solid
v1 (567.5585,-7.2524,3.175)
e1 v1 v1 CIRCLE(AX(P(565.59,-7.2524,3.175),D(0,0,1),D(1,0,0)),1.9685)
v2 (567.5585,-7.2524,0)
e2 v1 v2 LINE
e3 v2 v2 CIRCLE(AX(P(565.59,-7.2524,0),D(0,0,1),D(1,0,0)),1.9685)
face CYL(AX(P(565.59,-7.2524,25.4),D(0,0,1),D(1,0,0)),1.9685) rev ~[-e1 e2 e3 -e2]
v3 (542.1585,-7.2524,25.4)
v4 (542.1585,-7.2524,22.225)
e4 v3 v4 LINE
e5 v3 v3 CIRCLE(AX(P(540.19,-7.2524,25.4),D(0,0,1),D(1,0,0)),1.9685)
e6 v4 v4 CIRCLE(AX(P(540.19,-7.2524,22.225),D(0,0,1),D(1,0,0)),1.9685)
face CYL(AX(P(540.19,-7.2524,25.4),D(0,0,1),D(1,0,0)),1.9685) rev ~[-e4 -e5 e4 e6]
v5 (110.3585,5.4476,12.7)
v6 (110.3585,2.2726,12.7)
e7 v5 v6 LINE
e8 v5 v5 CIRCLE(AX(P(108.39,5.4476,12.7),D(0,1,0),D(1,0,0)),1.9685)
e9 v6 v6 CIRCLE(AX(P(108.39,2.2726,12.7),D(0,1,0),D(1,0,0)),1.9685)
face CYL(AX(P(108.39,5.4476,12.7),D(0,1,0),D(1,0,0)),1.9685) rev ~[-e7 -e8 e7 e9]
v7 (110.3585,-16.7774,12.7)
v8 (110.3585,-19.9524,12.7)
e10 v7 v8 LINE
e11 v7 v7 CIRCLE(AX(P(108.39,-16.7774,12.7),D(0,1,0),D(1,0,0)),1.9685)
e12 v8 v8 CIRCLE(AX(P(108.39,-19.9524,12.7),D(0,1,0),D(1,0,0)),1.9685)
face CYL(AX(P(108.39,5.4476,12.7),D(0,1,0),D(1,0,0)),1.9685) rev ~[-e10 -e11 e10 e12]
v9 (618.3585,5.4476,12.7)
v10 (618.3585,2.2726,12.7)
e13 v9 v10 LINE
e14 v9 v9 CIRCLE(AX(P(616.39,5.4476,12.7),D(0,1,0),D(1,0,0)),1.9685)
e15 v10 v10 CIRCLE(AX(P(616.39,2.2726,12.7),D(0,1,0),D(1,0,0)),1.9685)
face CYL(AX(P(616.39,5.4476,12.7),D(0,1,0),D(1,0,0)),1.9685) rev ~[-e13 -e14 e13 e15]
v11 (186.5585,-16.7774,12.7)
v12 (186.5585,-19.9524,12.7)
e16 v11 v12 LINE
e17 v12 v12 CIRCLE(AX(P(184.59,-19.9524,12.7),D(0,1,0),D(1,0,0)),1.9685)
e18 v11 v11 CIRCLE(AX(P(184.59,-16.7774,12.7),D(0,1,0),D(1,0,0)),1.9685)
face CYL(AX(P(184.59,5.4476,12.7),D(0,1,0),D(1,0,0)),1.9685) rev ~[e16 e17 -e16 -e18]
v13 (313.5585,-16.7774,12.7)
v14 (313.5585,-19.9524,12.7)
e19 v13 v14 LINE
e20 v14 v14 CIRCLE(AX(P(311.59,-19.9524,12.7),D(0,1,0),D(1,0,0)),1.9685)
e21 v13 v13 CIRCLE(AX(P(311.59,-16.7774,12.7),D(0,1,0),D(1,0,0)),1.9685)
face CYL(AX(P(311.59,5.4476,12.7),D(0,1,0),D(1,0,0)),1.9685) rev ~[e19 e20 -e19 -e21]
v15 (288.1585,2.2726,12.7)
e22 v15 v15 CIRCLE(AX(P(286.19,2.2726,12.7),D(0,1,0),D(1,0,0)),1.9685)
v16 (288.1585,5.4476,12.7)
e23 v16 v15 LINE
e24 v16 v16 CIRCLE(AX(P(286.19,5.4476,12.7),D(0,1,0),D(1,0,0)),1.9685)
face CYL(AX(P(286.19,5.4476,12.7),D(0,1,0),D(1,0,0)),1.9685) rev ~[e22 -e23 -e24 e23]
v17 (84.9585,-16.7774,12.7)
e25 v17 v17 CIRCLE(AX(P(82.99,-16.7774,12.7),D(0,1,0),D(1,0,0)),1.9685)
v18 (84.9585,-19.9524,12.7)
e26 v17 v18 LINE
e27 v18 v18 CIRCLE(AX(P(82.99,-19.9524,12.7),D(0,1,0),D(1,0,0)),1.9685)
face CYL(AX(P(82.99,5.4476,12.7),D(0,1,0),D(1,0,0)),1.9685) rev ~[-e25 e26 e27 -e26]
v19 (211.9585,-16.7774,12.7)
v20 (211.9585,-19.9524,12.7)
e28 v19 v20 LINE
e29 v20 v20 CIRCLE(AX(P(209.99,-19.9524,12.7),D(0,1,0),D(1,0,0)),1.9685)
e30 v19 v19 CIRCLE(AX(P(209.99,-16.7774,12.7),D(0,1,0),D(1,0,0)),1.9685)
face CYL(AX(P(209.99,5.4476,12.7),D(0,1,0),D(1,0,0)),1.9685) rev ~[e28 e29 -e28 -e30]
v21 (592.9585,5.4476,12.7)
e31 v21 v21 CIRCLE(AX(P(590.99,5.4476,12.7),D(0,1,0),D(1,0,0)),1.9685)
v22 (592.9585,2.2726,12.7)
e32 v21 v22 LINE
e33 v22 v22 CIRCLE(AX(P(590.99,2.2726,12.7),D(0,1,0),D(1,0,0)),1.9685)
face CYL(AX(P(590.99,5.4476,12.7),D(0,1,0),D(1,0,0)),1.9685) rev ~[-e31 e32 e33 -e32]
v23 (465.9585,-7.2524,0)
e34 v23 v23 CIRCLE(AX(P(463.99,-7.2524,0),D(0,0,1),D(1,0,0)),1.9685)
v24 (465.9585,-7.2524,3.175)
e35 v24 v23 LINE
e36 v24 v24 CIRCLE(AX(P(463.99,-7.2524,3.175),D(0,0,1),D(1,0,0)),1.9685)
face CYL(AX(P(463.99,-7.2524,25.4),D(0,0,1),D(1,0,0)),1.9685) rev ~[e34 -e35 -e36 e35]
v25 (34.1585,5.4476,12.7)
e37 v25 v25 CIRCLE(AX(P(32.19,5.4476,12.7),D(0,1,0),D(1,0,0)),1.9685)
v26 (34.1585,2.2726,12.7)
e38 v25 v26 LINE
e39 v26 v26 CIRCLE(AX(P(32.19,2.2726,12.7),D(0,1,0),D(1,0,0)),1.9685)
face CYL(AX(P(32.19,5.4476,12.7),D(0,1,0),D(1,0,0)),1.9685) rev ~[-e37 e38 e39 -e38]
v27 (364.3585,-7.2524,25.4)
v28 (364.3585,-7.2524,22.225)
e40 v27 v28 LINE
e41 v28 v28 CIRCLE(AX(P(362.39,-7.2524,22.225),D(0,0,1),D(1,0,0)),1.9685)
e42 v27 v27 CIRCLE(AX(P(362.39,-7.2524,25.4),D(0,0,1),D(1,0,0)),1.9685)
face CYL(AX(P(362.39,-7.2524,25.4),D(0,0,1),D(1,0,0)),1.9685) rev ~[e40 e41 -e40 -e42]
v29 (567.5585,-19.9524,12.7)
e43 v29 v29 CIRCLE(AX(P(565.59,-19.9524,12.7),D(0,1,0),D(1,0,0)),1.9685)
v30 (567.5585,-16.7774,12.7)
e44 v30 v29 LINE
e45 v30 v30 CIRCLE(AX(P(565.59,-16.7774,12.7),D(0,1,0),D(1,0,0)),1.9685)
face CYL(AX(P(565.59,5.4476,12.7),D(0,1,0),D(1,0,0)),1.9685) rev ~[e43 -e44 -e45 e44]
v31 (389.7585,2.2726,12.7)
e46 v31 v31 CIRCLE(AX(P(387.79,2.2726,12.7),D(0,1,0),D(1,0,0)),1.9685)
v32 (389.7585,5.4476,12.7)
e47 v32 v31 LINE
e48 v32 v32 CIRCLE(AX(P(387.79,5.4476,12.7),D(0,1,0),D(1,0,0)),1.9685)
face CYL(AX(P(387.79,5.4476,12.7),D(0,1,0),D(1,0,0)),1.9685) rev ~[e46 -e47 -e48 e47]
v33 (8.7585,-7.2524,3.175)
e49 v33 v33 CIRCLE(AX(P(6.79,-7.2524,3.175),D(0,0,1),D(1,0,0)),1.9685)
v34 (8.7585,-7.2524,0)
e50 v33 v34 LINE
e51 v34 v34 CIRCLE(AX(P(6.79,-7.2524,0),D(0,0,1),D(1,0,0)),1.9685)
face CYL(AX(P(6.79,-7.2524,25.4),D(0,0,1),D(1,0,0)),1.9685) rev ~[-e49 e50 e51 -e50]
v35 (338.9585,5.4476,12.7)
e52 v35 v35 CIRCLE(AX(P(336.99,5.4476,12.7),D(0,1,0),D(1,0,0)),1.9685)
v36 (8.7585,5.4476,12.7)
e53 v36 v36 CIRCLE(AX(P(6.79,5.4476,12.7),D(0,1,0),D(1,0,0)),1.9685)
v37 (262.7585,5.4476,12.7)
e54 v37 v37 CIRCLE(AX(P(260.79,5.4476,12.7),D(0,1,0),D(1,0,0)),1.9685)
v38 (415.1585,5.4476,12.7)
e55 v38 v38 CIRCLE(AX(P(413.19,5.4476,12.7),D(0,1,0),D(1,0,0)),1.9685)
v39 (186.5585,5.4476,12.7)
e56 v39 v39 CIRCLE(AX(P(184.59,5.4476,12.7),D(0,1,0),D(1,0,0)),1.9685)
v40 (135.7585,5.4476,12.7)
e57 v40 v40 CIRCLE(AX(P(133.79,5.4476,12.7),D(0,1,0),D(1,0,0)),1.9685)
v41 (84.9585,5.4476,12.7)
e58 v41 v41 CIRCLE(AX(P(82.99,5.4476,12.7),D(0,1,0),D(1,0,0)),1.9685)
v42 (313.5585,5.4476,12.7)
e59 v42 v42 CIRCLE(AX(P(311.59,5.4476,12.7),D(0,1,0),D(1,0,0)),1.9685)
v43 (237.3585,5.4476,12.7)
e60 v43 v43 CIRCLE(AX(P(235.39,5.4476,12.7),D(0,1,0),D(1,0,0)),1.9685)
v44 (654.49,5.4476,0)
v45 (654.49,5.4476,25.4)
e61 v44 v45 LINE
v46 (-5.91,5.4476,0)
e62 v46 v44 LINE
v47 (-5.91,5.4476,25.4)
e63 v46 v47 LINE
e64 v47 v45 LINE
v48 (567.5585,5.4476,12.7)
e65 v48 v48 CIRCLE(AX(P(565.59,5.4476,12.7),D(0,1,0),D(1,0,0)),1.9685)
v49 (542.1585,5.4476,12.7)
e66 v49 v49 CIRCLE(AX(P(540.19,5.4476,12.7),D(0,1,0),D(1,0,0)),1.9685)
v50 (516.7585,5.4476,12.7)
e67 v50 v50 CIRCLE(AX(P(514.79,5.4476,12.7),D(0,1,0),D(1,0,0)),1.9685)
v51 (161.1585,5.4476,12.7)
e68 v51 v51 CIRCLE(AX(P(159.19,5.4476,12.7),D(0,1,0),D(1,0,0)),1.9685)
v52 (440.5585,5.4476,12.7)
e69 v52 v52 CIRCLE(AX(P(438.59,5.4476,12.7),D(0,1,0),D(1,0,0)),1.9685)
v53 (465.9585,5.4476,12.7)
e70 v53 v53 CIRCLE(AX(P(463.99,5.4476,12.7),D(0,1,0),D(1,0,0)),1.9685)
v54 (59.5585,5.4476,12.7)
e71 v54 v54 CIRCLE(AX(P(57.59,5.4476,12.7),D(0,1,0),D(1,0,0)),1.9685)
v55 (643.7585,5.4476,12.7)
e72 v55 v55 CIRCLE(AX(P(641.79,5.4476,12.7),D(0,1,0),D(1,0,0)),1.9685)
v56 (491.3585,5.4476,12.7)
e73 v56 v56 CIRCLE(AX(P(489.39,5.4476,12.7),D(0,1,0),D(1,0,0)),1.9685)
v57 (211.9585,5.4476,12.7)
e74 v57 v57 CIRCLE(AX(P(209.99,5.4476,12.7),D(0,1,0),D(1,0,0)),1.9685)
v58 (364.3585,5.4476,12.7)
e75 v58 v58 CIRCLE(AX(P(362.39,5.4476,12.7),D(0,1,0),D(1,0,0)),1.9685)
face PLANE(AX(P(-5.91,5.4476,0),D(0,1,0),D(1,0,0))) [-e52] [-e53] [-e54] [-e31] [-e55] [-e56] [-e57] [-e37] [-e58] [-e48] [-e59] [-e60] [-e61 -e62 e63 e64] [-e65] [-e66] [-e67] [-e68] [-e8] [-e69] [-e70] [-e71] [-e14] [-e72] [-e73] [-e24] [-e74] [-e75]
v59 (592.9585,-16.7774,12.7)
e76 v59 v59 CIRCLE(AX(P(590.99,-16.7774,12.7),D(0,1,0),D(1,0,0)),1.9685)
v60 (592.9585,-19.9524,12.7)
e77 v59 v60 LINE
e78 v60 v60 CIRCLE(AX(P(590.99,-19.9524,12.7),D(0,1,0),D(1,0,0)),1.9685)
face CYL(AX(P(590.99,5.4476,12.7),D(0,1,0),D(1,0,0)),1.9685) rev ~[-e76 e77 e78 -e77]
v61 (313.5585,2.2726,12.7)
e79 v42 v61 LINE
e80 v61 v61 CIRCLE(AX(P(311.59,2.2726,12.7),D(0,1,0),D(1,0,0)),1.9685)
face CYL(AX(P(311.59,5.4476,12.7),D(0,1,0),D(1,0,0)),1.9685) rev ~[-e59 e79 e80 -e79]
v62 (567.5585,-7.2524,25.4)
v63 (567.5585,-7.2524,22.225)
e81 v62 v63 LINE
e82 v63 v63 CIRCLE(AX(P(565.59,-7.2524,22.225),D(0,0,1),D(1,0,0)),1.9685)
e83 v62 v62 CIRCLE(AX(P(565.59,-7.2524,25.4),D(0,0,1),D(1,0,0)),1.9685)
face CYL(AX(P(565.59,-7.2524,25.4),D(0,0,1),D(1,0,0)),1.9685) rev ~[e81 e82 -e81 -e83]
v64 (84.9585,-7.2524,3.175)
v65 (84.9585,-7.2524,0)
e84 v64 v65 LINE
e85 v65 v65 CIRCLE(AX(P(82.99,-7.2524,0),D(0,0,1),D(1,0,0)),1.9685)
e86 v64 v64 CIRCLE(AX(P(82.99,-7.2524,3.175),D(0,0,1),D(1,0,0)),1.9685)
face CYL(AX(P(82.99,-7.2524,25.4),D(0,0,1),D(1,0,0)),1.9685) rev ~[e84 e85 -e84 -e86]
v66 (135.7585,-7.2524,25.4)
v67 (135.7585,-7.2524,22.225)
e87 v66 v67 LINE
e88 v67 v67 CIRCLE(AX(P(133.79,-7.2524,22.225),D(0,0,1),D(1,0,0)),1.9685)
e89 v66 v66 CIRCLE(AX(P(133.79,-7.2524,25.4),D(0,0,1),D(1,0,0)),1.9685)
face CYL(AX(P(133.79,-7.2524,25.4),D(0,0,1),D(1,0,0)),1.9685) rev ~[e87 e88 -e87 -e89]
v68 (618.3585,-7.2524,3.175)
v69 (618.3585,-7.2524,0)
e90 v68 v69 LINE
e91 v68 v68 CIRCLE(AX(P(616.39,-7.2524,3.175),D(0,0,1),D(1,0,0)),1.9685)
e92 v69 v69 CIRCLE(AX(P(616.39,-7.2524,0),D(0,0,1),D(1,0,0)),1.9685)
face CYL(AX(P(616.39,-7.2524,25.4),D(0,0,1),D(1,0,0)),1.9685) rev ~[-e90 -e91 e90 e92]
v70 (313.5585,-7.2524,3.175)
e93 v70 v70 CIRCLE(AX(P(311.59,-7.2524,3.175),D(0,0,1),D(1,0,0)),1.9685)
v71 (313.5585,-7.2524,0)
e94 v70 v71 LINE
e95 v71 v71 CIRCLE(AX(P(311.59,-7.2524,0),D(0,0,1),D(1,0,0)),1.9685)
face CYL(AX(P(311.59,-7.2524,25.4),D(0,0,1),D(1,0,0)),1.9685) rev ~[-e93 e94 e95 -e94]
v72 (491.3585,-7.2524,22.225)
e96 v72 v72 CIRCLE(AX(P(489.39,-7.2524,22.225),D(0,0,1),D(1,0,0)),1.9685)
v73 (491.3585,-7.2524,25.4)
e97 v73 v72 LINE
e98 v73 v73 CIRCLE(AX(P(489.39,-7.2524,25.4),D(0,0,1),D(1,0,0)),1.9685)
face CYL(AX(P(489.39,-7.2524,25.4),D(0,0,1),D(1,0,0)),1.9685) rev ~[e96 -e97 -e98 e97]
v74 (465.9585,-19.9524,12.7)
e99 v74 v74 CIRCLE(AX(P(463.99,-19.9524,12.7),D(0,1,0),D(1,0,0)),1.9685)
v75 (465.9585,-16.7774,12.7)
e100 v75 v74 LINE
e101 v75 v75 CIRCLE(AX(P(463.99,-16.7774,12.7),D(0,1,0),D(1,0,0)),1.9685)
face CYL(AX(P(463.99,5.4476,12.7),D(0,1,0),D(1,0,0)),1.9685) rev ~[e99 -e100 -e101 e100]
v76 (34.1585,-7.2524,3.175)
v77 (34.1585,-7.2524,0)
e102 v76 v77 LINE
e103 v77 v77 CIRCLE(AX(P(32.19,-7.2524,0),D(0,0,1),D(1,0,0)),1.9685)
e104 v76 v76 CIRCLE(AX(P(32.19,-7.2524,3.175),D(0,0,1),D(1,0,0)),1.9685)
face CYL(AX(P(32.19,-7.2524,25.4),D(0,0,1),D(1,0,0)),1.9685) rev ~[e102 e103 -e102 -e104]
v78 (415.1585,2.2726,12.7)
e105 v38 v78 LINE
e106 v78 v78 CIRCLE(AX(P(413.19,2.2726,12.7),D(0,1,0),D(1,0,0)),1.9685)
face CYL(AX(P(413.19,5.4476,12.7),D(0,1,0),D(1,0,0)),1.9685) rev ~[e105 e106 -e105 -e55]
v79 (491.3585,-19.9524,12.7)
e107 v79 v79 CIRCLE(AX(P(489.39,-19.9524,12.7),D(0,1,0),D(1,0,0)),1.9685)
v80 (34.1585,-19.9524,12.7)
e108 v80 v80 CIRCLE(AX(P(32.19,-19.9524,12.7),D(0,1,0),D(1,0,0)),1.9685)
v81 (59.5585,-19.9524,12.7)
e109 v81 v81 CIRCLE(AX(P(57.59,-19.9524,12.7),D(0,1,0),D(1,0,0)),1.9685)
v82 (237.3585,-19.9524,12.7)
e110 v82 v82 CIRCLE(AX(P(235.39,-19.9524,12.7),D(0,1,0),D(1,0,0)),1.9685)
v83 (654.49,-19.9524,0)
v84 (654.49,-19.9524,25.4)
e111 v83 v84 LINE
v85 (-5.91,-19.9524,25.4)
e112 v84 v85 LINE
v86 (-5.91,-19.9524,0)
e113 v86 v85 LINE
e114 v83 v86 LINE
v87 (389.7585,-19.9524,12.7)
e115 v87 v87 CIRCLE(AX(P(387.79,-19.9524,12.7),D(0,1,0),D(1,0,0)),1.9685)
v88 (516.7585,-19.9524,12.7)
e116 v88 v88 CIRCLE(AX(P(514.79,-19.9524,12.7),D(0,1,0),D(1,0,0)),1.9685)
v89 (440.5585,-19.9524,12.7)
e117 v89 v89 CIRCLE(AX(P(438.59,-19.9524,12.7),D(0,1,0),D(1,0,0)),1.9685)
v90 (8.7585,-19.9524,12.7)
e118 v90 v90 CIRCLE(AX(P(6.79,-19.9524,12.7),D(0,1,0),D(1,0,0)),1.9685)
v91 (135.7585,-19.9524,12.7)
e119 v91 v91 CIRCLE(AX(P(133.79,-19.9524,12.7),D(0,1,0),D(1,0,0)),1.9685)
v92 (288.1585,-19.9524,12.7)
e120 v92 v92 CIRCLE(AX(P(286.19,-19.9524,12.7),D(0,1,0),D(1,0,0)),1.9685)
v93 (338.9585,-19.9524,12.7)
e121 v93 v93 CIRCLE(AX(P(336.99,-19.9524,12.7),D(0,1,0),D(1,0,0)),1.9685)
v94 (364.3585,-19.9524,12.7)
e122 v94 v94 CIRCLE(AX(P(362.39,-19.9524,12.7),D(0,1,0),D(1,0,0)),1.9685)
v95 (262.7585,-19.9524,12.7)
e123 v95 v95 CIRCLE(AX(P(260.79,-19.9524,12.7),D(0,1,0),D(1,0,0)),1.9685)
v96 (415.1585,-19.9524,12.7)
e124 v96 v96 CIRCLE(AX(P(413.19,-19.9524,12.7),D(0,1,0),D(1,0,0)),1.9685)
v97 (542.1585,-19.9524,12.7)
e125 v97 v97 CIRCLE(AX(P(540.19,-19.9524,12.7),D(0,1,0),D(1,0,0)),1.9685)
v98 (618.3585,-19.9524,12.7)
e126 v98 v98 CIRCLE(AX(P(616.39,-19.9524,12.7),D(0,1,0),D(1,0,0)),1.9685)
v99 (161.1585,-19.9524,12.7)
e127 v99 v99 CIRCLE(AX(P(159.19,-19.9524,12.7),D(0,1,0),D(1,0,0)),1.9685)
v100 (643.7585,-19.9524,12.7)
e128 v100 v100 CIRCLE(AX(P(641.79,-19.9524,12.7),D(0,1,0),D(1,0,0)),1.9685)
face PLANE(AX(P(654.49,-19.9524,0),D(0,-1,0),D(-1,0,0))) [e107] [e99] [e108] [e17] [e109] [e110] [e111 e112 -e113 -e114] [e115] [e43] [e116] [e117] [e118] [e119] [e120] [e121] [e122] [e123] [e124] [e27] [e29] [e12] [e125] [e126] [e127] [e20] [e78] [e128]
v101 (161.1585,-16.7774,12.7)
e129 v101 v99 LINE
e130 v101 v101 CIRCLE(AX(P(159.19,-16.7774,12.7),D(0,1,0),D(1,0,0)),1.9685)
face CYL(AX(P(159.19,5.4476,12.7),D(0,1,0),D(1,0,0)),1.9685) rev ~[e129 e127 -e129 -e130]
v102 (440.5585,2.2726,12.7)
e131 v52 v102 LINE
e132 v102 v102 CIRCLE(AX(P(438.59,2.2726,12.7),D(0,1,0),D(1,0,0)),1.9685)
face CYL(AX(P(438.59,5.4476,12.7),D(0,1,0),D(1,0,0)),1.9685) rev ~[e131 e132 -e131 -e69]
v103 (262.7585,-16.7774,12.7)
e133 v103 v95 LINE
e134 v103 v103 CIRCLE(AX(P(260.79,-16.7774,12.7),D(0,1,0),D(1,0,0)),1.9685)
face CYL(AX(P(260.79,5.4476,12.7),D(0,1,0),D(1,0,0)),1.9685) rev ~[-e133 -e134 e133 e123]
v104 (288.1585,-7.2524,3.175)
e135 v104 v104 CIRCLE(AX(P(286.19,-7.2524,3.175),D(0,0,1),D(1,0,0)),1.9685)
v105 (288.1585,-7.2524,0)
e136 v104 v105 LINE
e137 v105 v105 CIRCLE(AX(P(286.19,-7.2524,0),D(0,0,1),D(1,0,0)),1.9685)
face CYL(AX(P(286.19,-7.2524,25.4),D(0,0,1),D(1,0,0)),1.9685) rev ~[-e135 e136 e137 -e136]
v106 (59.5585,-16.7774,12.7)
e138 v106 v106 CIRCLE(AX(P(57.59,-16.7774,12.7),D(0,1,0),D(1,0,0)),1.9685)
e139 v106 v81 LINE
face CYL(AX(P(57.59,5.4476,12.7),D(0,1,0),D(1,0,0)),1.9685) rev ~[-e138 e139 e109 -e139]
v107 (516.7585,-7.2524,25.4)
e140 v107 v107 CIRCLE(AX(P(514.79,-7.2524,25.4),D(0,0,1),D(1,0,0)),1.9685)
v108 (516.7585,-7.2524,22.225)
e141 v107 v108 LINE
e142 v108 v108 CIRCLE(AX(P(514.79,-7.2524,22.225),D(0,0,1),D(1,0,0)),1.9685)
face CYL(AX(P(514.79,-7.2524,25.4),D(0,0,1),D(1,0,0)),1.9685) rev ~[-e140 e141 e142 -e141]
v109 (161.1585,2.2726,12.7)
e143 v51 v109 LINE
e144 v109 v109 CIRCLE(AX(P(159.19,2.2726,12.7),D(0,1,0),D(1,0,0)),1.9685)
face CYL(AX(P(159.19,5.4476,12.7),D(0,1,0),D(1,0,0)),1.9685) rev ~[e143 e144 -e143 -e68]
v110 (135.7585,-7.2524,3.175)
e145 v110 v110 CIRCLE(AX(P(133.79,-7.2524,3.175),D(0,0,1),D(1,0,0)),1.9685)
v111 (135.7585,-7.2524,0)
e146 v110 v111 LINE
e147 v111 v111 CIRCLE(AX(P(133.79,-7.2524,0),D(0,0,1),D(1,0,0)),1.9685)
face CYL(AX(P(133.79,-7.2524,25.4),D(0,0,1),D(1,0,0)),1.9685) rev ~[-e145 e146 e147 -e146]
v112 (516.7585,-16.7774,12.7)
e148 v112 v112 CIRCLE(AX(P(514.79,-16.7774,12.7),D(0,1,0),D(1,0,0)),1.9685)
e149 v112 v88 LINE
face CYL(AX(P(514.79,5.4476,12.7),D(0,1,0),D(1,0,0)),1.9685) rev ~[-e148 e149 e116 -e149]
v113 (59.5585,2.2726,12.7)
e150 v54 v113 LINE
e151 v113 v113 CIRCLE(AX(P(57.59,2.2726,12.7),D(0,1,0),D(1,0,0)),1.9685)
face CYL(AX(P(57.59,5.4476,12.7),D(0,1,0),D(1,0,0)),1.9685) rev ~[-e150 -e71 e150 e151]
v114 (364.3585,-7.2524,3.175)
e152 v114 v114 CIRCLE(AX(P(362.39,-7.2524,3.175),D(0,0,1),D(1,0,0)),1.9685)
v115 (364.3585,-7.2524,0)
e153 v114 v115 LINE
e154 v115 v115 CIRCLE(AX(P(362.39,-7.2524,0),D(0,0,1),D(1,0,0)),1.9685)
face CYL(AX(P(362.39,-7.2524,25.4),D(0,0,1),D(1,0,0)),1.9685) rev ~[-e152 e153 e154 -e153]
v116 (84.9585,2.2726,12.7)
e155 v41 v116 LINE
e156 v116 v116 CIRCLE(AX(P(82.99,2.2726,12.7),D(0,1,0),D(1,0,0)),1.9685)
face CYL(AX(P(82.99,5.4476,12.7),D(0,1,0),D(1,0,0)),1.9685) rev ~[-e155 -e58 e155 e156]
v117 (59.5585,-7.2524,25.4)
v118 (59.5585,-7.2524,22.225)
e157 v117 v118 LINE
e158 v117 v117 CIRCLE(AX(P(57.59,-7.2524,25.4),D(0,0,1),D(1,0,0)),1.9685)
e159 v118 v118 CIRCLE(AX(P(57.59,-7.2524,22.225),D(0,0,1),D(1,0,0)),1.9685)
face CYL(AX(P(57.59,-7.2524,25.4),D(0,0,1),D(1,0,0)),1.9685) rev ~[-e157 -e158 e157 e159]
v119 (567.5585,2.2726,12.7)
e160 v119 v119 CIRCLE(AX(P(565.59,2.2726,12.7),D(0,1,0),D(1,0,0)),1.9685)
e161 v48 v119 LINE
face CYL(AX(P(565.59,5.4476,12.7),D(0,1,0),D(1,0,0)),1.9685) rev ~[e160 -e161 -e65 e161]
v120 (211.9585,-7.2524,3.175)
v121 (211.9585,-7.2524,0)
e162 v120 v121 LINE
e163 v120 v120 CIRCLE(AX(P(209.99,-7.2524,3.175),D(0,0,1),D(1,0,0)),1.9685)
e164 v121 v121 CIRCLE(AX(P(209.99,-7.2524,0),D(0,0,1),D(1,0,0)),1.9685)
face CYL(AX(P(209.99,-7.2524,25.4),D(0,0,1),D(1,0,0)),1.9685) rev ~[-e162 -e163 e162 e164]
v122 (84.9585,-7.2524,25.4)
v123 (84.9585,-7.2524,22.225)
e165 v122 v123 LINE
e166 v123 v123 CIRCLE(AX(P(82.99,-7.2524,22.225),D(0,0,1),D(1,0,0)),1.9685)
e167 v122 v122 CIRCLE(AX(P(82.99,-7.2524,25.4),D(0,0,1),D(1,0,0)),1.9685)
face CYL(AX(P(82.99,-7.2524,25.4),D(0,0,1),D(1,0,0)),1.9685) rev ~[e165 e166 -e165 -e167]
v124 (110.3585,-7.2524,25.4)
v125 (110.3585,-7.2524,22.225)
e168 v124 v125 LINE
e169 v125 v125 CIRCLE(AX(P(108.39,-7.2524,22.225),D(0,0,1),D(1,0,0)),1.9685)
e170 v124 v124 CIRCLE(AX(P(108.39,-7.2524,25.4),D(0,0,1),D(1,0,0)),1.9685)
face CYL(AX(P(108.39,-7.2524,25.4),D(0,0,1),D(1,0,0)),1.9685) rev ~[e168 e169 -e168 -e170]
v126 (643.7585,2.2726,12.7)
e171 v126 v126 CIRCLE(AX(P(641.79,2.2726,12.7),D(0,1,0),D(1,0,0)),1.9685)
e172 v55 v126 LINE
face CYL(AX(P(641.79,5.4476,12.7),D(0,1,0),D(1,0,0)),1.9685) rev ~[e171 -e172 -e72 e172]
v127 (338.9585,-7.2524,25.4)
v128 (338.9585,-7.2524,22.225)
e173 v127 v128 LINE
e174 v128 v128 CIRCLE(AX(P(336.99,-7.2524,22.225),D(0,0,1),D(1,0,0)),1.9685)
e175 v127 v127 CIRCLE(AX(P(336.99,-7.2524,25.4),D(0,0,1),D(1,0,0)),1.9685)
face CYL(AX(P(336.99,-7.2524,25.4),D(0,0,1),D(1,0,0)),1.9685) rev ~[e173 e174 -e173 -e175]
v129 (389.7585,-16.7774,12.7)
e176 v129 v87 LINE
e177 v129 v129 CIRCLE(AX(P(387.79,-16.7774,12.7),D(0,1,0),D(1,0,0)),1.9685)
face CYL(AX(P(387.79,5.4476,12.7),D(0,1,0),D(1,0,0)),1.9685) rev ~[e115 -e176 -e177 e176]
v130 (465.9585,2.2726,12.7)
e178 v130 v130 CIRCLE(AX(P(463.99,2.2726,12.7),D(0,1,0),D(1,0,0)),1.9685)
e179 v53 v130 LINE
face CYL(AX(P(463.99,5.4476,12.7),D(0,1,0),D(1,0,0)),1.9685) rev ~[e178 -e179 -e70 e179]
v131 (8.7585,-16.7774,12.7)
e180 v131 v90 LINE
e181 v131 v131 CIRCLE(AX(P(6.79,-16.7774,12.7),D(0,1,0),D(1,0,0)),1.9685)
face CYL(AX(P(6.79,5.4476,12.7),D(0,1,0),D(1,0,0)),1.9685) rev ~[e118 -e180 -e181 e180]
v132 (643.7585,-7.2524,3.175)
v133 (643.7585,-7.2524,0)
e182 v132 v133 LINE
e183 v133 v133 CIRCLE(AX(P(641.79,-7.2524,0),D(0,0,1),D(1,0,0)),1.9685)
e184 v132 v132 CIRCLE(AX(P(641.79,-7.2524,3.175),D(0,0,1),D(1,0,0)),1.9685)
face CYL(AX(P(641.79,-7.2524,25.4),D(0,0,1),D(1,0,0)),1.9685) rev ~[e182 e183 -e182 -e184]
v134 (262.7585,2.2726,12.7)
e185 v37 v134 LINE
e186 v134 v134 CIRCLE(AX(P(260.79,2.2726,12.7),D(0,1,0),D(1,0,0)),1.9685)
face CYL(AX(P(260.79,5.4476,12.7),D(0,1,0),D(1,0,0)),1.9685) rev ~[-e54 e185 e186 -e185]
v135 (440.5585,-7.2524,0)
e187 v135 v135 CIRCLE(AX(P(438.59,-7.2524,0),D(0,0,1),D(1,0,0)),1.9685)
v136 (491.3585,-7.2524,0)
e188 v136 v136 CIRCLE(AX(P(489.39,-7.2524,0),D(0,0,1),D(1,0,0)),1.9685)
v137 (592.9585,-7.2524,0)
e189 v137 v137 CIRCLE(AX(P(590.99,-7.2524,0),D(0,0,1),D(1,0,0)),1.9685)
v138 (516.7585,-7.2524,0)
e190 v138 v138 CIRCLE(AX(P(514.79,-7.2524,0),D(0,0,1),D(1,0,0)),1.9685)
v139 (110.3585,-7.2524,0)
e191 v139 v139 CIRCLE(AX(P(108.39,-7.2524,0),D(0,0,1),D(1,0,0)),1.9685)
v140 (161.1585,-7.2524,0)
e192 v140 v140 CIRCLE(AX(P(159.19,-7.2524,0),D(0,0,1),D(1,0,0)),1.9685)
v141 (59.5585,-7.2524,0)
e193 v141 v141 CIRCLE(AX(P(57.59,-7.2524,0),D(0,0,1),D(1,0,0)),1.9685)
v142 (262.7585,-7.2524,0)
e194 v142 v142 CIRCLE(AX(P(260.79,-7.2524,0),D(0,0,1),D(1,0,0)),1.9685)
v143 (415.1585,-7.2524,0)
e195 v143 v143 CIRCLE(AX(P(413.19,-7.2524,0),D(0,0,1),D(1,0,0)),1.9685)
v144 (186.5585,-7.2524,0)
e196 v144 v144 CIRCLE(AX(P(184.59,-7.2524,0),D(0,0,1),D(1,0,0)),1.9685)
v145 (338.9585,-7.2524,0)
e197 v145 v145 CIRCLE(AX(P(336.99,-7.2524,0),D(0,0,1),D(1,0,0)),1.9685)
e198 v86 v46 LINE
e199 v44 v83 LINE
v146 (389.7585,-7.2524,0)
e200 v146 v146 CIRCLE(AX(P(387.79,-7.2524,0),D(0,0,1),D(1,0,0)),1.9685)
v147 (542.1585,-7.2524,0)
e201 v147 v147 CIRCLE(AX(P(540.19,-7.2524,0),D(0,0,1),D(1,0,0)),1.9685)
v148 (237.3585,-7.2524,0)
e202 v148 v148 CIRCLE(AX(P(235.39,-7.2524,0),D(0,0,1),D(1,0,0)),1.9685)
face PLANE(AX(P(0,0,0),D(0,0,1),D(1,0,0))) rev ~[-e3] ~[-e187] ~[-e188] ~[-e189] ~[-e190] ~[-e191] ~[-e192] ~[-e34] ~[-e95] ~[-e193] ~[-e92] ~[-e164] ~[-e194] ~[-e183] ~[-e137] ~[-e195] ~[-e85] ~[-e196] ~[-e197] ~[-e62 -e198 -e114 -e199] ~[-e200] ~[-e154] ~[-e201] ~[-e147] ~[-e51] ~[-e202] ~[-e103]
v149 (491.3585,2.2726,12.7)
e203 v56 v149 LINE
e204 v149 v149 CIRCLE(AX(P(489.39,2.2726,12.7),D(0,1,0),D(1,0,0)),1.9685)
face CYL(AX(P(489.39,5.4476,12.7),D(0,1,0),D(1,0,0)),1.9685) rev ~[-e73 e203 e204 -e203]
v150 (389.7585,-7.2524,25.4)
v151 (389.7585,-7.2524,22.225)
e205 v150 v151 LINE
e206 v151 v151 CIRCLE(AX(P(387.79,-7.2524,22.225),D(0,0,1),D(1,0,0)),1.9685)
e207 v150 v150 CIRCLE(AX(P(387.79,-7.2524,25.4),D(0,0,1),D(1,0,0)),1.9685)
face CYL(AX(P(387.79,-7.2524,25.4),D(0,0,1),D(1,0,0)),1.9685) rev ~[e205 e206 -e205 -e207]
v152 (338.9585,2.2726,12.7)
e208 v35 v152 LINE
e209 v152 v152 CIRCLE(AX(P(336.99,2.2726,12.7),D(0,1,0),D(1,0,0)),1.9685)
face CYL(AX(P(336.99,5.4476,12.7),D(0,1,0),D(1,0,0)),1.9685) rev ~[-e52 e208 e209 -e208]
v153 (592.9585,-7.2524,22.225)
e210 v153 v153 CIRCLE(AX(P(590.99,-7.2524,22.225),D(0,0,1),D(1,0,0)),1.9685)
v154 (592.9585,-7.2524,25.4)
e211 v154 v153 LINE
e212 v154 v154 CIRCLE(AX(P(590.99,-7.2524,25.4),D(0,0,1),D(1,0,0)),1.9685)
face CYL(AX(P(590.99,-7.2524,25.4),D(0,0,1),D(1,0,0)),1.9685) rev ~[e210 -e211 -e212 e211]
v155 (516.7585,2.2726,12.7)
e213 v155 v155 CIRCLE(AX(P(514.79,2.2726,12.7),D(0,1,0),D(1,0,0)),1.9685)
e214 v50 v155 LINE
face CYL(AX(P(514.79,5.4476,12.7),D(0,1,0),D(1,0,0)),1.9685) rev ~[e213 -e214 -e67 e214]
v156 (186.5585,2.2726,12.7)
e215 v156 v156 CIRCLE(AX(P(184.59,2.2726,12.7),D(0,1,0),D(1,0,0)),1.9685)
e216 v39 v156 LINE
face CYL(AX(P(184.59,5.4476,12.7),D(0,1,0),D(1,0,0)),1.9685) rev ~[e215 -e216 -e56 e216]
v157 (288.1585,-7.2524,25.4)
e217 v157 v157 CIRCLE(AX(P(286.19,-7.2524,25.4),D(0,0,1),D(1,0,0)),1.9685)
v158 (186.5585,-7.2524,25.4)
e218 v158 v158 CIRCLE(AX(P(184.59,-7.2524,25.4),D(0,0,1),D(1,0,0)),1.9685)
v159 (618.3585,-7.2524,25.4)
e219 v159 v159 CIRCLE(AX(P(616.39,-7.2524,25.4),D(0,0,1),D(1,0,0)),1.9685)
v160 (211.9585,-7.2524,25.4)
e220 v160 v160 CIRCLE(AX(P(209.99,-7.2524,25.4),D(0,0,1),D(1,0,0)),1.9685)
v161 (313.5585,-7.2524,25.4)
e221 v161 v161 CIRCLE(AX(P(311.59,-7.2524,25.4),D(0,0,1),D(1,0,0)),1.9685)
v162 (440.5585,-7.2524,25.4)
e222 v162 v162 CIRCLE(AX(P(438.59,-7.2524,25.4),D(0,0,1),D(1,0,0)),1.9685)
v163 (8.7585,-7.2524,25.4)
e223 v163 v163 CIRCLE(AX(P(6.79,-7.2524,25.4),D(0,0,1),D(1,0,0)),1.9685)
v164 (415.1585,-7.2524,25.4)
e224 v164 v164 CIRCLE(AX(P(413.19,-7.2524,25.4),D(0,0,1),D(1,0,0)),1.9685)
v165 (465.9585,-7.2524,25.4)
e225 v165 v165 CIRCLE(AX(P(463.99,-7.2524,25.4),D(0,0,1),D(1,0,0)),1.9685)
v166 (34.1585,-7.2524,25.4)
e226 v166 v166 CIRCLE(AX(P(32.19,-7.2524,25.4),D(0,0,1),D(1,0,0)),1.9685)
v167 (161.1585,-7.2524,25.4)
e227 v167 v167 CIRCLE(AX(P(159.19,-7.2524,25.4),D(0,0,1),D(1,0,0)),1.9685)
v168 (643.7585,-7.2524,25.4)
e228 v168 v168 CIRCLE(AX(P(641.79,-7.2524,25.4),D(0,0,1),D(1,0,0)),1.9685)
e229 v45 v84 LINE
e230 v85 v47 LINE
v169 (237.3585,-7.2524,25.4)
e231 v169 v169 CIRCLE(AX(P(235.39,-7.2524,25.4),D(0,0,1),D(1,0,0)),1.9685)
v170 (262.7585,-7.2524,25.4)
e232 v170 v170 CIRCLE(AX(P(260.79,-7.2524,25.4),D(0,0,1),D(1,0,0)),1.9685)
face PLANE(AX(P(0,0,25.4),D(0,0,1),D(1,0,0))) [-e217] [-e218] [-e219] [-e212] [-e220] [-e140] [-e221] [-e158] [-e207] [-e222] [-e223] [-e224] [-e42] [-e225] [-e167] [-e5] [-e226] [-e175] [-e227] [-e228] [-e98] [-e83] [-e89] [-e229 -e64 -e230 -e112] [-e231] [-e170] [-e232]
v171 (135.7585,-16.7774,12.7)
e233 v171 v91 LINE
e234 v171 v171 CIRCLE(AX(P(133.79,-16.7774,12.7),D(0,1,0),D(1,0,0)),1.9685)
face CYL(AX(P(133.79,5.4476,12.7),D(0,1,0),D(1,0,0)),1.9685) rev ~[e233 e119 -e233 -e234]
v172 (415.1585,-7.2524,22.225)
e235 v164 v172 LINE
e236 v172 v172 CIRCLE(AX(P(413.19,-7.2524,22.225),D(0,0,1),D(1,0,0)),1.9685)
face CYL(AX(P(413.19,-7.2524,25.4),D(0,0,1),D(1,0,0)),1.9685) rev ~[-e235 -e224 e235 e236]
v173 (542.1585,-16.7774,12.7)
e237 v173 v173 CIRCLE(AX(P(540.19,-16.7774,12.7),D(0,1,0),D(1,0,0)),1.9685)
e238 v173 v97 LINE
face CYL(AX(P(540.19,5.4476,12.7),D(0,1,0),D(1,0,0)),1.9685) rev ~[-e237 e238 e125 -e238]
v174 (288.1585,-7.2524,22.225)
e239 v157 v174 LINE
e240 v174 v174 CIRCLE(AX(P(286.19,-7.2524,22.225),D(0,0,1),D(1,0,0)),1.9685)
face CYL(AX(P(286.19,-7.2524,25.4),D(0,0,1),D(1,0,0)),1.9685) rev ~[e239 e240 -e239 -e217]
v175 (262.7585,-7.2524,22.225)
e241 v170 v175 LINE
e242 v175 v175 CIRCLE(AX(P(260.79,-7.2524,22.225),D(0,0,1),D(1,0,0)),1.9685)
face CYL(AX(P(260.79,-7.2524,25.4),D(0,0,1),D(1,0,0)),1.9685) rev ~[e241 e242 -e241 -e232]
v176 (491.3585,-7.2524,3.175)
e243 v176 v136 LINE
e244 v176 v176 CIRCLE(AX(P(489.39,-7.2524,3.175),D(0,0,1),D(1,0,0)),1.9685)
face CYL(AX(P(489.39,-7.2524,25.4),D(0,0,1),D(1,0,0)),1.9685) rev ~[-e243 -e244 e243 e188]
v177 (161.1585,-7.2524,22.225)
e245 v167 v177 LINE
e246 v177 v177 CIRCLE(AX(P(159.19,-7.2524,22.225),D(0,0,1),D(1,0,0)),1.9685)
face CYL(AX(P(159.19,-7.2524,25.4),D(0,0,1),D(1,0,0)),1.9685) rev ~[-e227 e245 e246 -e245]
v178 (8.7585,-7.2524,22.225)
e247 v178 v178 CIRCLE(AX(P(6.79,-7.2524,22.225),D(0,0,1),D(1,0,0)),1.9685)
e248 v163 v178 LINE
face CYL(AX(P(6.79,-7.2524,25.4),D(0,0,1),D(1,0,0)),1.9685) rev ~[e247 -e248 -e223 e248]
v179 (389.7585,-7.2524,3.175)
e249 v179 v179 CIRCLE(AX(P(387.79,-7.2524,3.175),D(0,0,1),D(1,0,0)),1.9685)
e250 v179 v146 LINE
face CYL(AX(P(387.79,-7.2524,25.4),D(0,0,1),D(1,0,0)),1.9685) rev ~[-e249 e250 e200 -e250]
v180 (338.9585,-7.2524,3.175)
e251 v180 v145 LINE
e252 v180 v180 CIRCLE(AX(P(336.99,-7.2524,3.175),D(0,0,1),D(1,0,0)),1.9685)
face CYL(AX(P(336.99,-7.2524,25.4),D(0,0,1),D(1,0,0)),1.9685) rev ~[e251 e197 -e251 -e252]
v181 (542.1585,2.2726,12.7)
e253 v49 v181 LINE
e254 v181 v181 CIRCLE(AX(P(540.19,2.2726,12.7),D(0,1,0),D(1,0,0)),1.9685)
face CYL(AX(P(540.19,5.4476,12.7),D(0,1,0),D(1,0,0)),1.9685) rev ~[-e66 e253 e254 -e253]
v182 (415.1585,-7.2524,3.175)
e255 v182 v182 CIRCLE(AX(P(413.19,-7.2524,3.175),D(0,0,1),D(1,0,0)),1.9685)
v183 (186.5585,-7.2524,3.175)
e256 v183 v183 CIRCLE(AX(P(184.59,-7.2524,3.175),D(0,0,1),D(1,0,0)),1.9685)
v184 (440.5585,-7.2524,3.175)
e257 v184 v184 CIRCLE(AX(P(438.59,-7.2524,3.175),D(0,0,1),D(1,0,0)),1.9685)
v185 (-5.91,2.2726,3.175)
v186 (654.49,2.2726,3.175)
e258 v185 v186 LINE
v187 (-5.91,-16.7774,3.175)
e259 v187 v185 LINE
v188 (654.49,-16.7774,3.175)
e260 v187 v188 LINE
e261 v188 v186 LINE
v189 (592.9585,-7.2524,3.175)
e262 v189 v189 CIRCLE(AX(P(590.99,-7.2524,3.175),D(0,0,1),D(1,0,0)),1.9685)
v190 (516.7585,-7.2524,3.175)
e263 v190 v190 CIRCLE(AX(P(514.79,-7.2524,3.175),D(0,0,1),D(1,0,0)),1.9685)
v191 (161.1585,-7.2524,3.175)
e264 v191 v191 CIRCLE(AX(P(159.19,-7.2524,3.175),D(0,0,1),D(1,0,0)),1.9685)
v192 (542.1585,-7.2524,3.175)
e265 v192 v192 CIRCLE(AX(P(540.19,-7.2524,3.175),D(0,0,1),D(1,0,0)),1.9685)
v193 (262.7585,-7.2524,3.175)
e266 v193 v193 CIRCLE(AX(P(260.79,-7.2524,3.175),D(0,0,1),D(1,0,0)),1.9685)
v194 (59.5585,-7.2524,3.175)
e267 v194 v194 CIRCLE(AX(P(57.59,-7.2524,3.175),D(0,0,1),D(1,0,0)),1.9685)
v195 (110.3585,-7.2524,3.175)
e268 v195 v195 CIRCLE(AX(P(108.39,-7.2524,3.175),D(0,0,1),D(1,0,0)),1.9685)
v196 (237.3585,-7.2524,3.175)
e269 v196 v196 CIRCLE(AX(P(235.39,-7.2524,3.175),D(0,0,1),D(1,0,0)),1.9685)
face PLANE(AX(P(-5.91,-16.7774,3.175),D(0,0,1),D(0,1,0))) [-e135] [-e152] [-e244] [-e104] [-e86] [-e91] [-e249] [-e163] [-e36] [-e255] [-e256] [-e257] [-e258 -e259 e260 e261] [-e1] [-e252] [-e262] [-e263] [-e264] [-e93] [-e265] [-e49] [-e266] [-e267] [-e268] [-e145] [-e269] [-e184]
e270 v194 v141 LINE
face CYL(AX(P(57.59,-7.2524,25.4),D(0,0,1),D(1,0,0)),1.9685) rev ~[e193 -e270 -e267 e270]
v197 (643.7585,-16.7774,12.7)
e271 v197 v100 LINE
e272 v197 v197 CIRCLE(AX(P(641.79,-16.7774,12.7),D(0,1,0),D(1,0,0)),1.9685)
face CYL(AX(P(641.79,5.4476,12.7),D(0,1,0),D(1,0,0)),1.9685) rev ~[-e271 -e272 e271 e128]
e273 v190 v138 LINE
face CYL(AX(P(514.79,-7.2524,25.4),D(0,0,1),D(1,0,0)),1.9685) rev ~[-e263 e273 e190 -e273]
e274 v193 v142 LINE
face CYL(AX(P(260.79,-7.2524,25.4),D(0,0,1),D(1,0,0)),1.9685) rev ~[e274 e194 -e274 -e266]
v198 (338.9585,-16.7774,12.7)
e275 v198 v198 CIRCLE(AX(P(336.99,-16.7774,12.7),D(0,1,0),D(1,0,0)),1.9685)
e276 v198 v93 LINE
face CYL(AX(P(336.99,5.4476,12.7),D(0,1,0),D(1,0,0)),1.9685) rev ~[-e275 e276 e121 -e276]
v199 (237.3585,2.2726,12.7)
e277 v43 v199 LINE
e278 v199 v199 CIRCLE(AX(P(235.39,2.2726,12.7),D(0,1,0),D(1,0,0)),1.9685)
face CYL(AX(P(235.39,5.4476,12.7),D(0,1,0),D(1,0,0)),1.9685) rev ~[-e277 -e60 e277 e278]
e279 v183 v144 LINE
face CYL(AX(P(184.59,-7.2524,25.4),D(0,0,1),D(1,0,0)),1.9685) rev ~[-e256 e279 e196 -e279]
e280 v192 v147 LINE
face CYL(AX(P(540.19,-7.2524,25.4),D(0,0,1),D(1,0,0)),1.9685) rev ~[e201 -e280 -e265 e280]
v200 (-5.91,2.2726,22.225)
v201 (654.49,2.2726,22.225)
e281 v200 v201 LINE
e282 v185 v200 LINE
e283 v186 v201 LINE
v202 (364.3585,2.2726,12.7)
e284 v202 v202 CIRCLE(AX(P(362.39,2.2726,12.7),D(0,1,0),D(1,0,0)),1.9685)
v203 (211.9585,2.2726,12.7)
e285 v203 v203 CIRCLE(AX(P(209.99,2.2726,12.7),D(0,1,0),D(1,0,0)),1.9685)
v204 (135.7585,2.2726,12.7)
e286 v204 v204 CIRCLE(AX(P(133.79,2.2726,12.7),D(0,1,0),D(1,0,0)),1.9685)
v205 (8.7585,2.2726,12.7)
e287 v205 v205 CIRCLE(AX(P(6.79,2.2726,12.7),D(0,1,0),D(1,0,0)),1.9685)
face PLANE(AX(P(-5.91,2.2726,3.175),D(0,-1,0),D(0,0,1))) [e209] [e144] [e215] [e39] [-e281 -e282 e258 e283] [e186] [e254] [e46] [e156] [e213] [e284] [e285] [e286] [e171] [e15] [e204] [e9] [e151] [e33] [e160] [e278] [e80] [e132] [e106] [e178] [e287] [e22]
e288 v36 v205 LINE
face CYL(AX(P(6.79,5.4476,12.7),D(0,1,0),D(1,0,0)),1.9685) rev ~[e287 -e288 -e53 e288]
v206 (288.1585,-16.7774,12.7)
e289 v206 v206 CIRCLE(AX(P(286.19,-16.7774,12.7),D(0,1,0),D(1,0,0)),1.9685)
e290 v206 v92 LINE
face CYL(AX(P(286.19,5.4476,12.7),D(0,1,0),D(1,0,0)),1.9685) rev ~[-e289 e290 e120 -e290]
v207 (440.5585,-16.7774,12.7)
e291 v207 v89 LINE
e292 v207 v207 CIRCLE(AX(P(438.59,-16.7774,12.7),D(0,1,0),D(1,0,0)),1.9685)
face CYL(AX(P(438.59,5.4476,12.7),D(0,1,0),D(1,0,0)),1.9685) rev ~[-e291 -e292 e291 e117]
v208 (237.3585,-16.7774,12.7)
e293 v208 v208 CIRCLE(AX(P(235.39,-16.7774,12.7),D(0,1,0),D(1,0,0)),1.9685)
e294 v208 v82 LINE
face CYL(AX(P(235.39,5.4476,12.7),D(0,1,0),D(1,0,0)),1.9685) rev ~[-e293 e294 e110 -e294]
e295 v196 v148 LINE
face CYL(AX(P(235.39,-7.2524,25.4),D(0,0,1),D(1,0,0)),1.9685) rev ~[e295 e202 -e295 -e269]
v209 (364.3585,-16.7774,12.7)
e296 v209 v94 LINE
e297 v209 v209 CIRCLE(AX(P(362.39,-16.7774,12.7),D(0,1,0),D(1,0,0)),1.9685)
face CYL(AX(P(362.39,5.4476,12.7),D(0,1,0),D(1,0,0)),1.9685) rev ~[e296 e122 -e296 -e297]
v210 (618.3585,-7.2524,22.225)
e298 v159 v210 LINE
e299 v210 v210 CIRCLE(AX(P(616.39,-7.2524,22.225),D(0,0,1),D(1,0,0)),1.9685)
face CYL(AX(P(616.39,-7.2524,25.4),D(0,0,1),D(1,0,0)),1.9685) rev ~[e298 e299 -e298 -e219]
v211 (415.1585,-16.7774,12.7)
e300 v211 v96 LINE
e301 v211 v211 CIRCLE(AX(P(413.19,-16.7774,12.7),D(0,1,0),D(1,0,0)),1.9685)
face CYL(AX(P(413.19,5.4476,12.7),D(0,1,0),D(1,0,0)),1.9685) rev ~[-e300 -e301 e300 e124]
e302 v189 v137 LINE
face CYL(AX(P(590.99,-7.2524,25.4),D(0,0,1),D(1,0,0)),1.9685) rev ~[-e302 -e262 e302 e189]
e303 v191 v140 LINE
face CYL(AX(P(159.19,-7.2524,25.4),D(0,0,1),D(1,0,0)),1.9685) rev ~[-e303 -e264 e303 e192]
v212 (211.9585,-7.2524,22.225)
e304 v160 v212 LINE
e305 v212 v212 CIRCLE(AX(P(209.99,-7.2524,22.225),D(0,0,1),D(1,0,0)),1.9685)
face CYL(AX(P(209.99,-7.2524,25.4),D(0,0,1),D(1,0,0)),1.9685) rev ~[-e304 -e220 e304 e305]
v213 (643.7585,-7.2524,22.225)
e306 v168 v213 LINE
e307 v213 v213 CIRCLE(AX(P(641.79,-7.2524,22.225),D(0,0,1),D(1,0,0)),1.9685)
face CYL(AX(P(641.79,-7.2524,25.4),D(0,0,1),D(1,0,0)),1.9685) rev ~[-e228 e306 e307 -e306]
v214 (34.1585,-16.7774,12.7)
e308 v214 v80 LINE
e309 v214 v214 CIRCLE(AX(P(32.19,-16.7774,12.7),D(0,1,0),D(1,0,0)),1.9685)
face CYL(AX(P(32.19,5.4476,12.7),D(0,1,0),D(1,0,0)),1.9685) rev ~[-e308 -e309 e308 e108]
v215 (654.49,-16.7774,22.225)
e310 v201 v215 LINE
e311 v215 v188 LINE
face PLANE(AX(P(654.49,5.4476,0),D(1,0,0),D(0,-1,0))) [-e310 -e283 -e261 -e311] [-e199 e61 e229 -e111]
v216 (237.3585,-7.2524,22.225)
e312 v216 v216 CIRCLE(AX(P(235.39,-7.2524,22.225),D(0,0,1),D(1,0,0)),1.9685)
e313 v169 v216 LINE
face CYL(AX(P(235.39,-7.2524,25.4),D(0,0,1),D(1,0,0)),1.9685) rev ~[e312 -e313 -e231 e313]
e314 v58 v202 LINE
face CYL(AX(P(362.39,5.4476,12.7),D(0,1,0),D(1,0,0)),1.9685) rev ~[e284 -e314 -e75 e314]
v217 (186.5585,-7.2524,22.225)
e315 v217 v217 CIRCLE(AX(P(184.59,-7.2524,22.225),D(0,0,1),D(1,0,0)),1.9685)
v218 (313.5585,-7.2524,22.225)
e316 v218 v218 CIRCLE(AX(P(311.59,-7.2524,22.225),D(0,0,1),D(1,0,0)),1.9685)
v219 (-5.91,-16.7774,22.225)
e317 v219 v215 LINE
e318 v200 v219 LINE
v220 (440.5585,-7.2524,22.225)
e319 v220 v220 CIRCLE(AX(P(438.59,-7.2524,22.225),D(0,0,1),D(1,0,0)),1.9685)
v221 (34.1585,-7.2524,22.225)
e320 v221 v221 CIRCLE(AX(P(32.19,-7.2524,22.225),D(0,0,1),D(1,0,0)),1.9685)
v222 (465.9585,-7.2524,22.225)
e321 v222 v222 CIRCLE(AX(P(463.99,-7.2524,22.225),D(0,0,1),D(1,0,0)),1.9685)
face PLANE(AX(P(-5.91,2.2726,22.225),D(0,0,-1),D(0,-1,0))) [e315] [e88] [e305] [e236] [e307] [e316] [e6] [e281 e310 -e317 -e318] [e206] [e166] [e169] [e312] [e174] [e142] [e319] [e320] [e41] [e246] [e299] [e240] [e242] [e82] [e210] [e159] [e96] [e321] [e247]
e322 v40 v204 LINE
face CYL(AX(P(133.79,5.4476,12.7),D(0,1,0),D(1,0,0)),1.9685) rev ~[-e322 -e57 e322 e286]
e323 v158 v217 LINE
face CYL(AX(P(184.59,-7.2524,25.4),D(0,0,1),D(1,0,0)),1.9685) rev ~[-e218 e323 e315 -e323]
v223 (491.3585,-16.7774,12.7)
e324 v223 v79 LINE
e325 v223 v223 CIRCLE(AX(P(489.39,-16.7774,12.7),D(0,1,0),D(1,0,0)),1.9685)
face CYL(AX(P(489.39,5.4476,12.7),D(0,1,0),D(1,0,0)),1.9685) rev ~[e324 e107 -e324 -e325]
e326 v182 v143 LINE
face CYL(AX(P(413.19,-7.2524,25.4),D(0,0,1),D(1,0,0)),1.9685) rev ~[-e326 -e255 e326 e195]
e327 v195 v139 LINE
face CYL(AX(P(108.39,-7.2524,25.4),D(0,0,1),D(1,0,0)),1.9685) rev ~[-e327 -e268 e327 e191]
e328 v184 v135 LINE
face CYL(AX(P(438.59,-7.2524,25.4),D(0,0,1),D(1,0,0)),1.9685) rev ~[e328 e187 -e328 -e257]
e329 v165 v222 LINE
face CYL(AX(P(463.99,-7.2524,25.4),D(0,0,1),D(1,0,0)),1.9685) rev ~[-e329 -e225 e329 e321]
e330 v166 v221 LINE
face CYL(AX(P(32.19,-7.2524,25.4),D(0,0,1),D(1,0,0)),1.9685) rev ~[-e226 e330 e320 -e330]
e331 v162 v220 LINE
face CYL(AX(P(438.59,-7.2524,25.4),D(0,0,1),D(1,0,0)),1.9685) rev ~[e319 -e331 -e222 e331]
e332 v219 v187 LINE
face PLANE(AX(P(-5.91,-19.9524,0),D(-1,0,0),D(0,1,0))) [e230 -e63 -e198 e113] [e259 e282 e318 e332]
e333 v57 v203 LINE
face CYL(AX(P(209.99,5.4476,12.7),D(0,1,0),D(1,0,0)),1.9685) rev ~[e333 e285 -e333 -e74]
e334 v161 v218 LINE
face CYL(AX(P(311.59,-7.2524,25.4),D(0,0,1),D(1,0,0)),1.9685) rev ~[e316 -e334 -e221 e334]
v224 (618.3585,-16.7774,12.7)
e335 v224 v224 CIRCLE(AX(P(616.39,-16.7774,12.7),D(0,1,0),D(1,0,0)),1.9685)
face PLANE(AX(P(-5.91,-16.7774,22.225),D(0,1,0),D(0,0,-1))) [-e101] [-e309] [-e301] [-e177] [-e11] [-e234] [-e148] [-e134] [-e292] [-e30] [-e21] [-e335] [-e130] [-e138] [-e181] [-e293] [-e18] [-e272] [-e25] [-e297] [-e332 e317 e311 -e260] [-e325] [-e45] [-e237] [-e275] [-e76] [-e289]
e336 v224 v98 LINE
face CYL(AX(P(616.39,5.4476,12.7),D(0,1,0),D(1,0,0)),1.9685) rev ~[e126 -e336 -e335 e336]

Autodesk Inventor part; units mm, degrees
ref_plane "YZ Plane" through (0, 0, 0) normal (1, 0, 0) x (0, 1, 0)
ref_plane "XZ Plane" through (0, 0, 0) normal (0, 1, 0) x (-1, 0, 0)
ref_plane "XY Plane" through (0, 0, 0) normal (0, 0, 1) x (1, 0, 0)
sketch "Sketch1" plane through (0, 0, 0) normal (0, 0, 1) x (1, 0, 0)
  line L0 (-5.91, 5.4476) -> (654.49, 5.4476)
  line L1 (654.49, 5.4476) -> (654.49, -19.9524)
  line L2 (654.49, -19.9524) -> (-5.91, -19.9524)
  line L3 (-5.91, -19.9524) -> (-5.91, 5.4476)
  point P0 (0, 0)
  dimension "d0" = 660.4
  dimension "d1" = 25.4
extrude "Extrusion1" add sketch "Sketch1" along normal blind 25.4
sketch "Sketch2" plane through (0, 0, 25.4) normal (0, 0, 1) x (1, 0, 0)
  circle A0 centre (6.79, -7.2524) radius 1.9685
  line L0 (-5.91, 5.4476) -> (-5.91, -19.9524) projected
  line L1 (-5.91, -19.9524) -> (654.49, -19.9524) projected
  circle A1 centre (32.19, -7.2524) radius 1.9685
  circle A2 centre (57.59, -7.2524) radius 1.9685
  circle A3 centre (82.99, -7.2524) radius 1.9685
  circle A4 centre (108.39, -7.2524) radius 1.9685
  circle A5 centre (133.79, -7.2524) radius 1.9685
  circle A6 centre (159.19, -7.2524) radius 1.9685
  circle A7 centre (184.59, -7.2524) radius 1.9685
  circle A8 centre (209.99, -7.2524) radius 1.9685
  circle A9 centre (235.39, -7.2524) radius 1.9685
  circle A10 centre (260.79, -7.2524) radius 1.9685
  circle A11 centre (286.19, -7.2524) radius 1.9685
  circle A12 centre (311.59, -7.2524) radius 1.9685
  circle A13 centre (336.99, -7.2524) radius 1.9685
  circle A14 centre (362.39, -7.2524) radius 1.9685
  circle A15 centre (387.79, -7.2524) radius 1.9685
  circle A16 centre (413.19, -7.2524) radius 1.9685
  circle A17 centre (438.59, -7.2524) radius 1.9685
  circle A18 centre (463.99, -7.2524) radius 1.9685
  circle A19 centre (489.39, -7.2524) radius 1.9685
  circle A20 centre (514.79, -7.2524) radius 1.9685
  circle A21 centre (540.19, -7.2524) radius 1.9685
  circle A22 centre (565.59, -7.2524) radius 1.9685
  circle A23 centre (590.99, -7.2524) radius 1.9685
  circle A24 centre (616.39, -7.2524) radius 1.9685
  circle A25 centre (641.79, -7.2524) radius 1.9685
  point P0 (0, 0)
  dimension "d4" = 3.937
  dimension "d5" = 12.7
  dimension "d6" = 12.7
  dimension "d9" = 25.4
  dimension "d16" = 25.4
extrude "Extrusion2" cut sketch "Sketch2" against normal blind 25.4
sketch "Sketch3" plane through (-5.91, -19.9524, 0) normal (-1, 0, 0) x (0, 0, 1)
  line L0 (3.175, 22.225) -> (22.225, 22.225)
  line L1 (22.225, 22.225) -> (22.225, 3.175)
  line L2 (22.225, 3.175) -> (3.175, 3.175)
  line L3 (3.175, 3.175) -> (3.175, 22.225)
  line L4 (0, 25.4) -> (25.4, 25.4) projected
  line L5 (0, 0) -> (0, 25.4) projected
  line L6 (0, 0) -> (25.4, 0) projected
  line L7 (25.4, 25.4) -> (25.4, 0) projected
  point P0 (0, 19.9524)
  dimension "d23" = 3.175
  dimension "d24" = 3.175
  dimension "d25" = 3.175
  dimension "d26" = 3.175
sketch "Sketch4" plane through (-5.91, 5.4476, 0) normal (0, 1, 0) x (1, 0, 0)
  circle A0 centre (12.7, -12.7) radius 1.9685
  line L0 (0, 0) -> (0, -25.4) projected
  line L1 (660.4, -25.4) -> (0, -25.4) projected
  circle A1 centre (38.1, -12.7) radius 1.9685
  circle A2 centre (63.5, -12.7) radius 1.9685
  circle A3 centre (88.9, -12.7) radius 1.9685
  circle A4 centre (114.3, -12.7) radius 1.9685
  circle A5 centre (139.7, -12.7) radius 1.9685
  circle A6 centre (165.1, -12.7) radius 1.9685
  circle A7 centre (190.5, -12.7) radius 1.9685
  circle A8 centre (215.9, -12.7) radius 1.9685
  circle A9 centre (241.3, -12.7) radius 1.9685
  circle A10 centre (266.7, -12.7) radius 1.9685
  circle A11 centre (292.1, -12.7) radius 1.9685
  circle A12 centre (317.5, -12.7) radius 1.9685
  circle A13 centre (342.9, -12.7) radius 1.9685
  circle A14 centre (368.3, -12.7) radius 1.9685
  circle A15 centre (393.7, -12.7) radius 1.9685
  circle A16 centre (419.1, -12.7) radius 1.9685
  circle A17 centre (444.5, -12.7) radius 1.9685
  circle A18 centre (469.9, -12.7) radius 1.9685
  circle A19 centre (495.3, -12.7) radius 1.9685
  circle A20 centre (520.7, -12.7) radius 1.9685
  circle A21 centre (546.1, -12.7) radius 1.9685
  circle A22 centre (571.5, -12.7) radius 1.9685
  circle A23 centre (596.9, -12.7) radius 1.9685
  circle A24 centre (622.3, -12.7) radius 1.9685
  circle A25 centre (647.7, -12.7) radius 1.9685
  point P0 (5.91, 0)
  dimension "d27" = 3.937
  dimension "d28" = 12.7
  dimension "d29" = 12.7
  dimension "d32" = 25.4
extrude "Extrusion3" cut sketch "Sketch4" against normal blind 25.4
extrude "Extrusion4" cut sketch "Sketch3" against normal blind 660.4 contours L0 L1 L2 L3
properties part number "numbah 9"
